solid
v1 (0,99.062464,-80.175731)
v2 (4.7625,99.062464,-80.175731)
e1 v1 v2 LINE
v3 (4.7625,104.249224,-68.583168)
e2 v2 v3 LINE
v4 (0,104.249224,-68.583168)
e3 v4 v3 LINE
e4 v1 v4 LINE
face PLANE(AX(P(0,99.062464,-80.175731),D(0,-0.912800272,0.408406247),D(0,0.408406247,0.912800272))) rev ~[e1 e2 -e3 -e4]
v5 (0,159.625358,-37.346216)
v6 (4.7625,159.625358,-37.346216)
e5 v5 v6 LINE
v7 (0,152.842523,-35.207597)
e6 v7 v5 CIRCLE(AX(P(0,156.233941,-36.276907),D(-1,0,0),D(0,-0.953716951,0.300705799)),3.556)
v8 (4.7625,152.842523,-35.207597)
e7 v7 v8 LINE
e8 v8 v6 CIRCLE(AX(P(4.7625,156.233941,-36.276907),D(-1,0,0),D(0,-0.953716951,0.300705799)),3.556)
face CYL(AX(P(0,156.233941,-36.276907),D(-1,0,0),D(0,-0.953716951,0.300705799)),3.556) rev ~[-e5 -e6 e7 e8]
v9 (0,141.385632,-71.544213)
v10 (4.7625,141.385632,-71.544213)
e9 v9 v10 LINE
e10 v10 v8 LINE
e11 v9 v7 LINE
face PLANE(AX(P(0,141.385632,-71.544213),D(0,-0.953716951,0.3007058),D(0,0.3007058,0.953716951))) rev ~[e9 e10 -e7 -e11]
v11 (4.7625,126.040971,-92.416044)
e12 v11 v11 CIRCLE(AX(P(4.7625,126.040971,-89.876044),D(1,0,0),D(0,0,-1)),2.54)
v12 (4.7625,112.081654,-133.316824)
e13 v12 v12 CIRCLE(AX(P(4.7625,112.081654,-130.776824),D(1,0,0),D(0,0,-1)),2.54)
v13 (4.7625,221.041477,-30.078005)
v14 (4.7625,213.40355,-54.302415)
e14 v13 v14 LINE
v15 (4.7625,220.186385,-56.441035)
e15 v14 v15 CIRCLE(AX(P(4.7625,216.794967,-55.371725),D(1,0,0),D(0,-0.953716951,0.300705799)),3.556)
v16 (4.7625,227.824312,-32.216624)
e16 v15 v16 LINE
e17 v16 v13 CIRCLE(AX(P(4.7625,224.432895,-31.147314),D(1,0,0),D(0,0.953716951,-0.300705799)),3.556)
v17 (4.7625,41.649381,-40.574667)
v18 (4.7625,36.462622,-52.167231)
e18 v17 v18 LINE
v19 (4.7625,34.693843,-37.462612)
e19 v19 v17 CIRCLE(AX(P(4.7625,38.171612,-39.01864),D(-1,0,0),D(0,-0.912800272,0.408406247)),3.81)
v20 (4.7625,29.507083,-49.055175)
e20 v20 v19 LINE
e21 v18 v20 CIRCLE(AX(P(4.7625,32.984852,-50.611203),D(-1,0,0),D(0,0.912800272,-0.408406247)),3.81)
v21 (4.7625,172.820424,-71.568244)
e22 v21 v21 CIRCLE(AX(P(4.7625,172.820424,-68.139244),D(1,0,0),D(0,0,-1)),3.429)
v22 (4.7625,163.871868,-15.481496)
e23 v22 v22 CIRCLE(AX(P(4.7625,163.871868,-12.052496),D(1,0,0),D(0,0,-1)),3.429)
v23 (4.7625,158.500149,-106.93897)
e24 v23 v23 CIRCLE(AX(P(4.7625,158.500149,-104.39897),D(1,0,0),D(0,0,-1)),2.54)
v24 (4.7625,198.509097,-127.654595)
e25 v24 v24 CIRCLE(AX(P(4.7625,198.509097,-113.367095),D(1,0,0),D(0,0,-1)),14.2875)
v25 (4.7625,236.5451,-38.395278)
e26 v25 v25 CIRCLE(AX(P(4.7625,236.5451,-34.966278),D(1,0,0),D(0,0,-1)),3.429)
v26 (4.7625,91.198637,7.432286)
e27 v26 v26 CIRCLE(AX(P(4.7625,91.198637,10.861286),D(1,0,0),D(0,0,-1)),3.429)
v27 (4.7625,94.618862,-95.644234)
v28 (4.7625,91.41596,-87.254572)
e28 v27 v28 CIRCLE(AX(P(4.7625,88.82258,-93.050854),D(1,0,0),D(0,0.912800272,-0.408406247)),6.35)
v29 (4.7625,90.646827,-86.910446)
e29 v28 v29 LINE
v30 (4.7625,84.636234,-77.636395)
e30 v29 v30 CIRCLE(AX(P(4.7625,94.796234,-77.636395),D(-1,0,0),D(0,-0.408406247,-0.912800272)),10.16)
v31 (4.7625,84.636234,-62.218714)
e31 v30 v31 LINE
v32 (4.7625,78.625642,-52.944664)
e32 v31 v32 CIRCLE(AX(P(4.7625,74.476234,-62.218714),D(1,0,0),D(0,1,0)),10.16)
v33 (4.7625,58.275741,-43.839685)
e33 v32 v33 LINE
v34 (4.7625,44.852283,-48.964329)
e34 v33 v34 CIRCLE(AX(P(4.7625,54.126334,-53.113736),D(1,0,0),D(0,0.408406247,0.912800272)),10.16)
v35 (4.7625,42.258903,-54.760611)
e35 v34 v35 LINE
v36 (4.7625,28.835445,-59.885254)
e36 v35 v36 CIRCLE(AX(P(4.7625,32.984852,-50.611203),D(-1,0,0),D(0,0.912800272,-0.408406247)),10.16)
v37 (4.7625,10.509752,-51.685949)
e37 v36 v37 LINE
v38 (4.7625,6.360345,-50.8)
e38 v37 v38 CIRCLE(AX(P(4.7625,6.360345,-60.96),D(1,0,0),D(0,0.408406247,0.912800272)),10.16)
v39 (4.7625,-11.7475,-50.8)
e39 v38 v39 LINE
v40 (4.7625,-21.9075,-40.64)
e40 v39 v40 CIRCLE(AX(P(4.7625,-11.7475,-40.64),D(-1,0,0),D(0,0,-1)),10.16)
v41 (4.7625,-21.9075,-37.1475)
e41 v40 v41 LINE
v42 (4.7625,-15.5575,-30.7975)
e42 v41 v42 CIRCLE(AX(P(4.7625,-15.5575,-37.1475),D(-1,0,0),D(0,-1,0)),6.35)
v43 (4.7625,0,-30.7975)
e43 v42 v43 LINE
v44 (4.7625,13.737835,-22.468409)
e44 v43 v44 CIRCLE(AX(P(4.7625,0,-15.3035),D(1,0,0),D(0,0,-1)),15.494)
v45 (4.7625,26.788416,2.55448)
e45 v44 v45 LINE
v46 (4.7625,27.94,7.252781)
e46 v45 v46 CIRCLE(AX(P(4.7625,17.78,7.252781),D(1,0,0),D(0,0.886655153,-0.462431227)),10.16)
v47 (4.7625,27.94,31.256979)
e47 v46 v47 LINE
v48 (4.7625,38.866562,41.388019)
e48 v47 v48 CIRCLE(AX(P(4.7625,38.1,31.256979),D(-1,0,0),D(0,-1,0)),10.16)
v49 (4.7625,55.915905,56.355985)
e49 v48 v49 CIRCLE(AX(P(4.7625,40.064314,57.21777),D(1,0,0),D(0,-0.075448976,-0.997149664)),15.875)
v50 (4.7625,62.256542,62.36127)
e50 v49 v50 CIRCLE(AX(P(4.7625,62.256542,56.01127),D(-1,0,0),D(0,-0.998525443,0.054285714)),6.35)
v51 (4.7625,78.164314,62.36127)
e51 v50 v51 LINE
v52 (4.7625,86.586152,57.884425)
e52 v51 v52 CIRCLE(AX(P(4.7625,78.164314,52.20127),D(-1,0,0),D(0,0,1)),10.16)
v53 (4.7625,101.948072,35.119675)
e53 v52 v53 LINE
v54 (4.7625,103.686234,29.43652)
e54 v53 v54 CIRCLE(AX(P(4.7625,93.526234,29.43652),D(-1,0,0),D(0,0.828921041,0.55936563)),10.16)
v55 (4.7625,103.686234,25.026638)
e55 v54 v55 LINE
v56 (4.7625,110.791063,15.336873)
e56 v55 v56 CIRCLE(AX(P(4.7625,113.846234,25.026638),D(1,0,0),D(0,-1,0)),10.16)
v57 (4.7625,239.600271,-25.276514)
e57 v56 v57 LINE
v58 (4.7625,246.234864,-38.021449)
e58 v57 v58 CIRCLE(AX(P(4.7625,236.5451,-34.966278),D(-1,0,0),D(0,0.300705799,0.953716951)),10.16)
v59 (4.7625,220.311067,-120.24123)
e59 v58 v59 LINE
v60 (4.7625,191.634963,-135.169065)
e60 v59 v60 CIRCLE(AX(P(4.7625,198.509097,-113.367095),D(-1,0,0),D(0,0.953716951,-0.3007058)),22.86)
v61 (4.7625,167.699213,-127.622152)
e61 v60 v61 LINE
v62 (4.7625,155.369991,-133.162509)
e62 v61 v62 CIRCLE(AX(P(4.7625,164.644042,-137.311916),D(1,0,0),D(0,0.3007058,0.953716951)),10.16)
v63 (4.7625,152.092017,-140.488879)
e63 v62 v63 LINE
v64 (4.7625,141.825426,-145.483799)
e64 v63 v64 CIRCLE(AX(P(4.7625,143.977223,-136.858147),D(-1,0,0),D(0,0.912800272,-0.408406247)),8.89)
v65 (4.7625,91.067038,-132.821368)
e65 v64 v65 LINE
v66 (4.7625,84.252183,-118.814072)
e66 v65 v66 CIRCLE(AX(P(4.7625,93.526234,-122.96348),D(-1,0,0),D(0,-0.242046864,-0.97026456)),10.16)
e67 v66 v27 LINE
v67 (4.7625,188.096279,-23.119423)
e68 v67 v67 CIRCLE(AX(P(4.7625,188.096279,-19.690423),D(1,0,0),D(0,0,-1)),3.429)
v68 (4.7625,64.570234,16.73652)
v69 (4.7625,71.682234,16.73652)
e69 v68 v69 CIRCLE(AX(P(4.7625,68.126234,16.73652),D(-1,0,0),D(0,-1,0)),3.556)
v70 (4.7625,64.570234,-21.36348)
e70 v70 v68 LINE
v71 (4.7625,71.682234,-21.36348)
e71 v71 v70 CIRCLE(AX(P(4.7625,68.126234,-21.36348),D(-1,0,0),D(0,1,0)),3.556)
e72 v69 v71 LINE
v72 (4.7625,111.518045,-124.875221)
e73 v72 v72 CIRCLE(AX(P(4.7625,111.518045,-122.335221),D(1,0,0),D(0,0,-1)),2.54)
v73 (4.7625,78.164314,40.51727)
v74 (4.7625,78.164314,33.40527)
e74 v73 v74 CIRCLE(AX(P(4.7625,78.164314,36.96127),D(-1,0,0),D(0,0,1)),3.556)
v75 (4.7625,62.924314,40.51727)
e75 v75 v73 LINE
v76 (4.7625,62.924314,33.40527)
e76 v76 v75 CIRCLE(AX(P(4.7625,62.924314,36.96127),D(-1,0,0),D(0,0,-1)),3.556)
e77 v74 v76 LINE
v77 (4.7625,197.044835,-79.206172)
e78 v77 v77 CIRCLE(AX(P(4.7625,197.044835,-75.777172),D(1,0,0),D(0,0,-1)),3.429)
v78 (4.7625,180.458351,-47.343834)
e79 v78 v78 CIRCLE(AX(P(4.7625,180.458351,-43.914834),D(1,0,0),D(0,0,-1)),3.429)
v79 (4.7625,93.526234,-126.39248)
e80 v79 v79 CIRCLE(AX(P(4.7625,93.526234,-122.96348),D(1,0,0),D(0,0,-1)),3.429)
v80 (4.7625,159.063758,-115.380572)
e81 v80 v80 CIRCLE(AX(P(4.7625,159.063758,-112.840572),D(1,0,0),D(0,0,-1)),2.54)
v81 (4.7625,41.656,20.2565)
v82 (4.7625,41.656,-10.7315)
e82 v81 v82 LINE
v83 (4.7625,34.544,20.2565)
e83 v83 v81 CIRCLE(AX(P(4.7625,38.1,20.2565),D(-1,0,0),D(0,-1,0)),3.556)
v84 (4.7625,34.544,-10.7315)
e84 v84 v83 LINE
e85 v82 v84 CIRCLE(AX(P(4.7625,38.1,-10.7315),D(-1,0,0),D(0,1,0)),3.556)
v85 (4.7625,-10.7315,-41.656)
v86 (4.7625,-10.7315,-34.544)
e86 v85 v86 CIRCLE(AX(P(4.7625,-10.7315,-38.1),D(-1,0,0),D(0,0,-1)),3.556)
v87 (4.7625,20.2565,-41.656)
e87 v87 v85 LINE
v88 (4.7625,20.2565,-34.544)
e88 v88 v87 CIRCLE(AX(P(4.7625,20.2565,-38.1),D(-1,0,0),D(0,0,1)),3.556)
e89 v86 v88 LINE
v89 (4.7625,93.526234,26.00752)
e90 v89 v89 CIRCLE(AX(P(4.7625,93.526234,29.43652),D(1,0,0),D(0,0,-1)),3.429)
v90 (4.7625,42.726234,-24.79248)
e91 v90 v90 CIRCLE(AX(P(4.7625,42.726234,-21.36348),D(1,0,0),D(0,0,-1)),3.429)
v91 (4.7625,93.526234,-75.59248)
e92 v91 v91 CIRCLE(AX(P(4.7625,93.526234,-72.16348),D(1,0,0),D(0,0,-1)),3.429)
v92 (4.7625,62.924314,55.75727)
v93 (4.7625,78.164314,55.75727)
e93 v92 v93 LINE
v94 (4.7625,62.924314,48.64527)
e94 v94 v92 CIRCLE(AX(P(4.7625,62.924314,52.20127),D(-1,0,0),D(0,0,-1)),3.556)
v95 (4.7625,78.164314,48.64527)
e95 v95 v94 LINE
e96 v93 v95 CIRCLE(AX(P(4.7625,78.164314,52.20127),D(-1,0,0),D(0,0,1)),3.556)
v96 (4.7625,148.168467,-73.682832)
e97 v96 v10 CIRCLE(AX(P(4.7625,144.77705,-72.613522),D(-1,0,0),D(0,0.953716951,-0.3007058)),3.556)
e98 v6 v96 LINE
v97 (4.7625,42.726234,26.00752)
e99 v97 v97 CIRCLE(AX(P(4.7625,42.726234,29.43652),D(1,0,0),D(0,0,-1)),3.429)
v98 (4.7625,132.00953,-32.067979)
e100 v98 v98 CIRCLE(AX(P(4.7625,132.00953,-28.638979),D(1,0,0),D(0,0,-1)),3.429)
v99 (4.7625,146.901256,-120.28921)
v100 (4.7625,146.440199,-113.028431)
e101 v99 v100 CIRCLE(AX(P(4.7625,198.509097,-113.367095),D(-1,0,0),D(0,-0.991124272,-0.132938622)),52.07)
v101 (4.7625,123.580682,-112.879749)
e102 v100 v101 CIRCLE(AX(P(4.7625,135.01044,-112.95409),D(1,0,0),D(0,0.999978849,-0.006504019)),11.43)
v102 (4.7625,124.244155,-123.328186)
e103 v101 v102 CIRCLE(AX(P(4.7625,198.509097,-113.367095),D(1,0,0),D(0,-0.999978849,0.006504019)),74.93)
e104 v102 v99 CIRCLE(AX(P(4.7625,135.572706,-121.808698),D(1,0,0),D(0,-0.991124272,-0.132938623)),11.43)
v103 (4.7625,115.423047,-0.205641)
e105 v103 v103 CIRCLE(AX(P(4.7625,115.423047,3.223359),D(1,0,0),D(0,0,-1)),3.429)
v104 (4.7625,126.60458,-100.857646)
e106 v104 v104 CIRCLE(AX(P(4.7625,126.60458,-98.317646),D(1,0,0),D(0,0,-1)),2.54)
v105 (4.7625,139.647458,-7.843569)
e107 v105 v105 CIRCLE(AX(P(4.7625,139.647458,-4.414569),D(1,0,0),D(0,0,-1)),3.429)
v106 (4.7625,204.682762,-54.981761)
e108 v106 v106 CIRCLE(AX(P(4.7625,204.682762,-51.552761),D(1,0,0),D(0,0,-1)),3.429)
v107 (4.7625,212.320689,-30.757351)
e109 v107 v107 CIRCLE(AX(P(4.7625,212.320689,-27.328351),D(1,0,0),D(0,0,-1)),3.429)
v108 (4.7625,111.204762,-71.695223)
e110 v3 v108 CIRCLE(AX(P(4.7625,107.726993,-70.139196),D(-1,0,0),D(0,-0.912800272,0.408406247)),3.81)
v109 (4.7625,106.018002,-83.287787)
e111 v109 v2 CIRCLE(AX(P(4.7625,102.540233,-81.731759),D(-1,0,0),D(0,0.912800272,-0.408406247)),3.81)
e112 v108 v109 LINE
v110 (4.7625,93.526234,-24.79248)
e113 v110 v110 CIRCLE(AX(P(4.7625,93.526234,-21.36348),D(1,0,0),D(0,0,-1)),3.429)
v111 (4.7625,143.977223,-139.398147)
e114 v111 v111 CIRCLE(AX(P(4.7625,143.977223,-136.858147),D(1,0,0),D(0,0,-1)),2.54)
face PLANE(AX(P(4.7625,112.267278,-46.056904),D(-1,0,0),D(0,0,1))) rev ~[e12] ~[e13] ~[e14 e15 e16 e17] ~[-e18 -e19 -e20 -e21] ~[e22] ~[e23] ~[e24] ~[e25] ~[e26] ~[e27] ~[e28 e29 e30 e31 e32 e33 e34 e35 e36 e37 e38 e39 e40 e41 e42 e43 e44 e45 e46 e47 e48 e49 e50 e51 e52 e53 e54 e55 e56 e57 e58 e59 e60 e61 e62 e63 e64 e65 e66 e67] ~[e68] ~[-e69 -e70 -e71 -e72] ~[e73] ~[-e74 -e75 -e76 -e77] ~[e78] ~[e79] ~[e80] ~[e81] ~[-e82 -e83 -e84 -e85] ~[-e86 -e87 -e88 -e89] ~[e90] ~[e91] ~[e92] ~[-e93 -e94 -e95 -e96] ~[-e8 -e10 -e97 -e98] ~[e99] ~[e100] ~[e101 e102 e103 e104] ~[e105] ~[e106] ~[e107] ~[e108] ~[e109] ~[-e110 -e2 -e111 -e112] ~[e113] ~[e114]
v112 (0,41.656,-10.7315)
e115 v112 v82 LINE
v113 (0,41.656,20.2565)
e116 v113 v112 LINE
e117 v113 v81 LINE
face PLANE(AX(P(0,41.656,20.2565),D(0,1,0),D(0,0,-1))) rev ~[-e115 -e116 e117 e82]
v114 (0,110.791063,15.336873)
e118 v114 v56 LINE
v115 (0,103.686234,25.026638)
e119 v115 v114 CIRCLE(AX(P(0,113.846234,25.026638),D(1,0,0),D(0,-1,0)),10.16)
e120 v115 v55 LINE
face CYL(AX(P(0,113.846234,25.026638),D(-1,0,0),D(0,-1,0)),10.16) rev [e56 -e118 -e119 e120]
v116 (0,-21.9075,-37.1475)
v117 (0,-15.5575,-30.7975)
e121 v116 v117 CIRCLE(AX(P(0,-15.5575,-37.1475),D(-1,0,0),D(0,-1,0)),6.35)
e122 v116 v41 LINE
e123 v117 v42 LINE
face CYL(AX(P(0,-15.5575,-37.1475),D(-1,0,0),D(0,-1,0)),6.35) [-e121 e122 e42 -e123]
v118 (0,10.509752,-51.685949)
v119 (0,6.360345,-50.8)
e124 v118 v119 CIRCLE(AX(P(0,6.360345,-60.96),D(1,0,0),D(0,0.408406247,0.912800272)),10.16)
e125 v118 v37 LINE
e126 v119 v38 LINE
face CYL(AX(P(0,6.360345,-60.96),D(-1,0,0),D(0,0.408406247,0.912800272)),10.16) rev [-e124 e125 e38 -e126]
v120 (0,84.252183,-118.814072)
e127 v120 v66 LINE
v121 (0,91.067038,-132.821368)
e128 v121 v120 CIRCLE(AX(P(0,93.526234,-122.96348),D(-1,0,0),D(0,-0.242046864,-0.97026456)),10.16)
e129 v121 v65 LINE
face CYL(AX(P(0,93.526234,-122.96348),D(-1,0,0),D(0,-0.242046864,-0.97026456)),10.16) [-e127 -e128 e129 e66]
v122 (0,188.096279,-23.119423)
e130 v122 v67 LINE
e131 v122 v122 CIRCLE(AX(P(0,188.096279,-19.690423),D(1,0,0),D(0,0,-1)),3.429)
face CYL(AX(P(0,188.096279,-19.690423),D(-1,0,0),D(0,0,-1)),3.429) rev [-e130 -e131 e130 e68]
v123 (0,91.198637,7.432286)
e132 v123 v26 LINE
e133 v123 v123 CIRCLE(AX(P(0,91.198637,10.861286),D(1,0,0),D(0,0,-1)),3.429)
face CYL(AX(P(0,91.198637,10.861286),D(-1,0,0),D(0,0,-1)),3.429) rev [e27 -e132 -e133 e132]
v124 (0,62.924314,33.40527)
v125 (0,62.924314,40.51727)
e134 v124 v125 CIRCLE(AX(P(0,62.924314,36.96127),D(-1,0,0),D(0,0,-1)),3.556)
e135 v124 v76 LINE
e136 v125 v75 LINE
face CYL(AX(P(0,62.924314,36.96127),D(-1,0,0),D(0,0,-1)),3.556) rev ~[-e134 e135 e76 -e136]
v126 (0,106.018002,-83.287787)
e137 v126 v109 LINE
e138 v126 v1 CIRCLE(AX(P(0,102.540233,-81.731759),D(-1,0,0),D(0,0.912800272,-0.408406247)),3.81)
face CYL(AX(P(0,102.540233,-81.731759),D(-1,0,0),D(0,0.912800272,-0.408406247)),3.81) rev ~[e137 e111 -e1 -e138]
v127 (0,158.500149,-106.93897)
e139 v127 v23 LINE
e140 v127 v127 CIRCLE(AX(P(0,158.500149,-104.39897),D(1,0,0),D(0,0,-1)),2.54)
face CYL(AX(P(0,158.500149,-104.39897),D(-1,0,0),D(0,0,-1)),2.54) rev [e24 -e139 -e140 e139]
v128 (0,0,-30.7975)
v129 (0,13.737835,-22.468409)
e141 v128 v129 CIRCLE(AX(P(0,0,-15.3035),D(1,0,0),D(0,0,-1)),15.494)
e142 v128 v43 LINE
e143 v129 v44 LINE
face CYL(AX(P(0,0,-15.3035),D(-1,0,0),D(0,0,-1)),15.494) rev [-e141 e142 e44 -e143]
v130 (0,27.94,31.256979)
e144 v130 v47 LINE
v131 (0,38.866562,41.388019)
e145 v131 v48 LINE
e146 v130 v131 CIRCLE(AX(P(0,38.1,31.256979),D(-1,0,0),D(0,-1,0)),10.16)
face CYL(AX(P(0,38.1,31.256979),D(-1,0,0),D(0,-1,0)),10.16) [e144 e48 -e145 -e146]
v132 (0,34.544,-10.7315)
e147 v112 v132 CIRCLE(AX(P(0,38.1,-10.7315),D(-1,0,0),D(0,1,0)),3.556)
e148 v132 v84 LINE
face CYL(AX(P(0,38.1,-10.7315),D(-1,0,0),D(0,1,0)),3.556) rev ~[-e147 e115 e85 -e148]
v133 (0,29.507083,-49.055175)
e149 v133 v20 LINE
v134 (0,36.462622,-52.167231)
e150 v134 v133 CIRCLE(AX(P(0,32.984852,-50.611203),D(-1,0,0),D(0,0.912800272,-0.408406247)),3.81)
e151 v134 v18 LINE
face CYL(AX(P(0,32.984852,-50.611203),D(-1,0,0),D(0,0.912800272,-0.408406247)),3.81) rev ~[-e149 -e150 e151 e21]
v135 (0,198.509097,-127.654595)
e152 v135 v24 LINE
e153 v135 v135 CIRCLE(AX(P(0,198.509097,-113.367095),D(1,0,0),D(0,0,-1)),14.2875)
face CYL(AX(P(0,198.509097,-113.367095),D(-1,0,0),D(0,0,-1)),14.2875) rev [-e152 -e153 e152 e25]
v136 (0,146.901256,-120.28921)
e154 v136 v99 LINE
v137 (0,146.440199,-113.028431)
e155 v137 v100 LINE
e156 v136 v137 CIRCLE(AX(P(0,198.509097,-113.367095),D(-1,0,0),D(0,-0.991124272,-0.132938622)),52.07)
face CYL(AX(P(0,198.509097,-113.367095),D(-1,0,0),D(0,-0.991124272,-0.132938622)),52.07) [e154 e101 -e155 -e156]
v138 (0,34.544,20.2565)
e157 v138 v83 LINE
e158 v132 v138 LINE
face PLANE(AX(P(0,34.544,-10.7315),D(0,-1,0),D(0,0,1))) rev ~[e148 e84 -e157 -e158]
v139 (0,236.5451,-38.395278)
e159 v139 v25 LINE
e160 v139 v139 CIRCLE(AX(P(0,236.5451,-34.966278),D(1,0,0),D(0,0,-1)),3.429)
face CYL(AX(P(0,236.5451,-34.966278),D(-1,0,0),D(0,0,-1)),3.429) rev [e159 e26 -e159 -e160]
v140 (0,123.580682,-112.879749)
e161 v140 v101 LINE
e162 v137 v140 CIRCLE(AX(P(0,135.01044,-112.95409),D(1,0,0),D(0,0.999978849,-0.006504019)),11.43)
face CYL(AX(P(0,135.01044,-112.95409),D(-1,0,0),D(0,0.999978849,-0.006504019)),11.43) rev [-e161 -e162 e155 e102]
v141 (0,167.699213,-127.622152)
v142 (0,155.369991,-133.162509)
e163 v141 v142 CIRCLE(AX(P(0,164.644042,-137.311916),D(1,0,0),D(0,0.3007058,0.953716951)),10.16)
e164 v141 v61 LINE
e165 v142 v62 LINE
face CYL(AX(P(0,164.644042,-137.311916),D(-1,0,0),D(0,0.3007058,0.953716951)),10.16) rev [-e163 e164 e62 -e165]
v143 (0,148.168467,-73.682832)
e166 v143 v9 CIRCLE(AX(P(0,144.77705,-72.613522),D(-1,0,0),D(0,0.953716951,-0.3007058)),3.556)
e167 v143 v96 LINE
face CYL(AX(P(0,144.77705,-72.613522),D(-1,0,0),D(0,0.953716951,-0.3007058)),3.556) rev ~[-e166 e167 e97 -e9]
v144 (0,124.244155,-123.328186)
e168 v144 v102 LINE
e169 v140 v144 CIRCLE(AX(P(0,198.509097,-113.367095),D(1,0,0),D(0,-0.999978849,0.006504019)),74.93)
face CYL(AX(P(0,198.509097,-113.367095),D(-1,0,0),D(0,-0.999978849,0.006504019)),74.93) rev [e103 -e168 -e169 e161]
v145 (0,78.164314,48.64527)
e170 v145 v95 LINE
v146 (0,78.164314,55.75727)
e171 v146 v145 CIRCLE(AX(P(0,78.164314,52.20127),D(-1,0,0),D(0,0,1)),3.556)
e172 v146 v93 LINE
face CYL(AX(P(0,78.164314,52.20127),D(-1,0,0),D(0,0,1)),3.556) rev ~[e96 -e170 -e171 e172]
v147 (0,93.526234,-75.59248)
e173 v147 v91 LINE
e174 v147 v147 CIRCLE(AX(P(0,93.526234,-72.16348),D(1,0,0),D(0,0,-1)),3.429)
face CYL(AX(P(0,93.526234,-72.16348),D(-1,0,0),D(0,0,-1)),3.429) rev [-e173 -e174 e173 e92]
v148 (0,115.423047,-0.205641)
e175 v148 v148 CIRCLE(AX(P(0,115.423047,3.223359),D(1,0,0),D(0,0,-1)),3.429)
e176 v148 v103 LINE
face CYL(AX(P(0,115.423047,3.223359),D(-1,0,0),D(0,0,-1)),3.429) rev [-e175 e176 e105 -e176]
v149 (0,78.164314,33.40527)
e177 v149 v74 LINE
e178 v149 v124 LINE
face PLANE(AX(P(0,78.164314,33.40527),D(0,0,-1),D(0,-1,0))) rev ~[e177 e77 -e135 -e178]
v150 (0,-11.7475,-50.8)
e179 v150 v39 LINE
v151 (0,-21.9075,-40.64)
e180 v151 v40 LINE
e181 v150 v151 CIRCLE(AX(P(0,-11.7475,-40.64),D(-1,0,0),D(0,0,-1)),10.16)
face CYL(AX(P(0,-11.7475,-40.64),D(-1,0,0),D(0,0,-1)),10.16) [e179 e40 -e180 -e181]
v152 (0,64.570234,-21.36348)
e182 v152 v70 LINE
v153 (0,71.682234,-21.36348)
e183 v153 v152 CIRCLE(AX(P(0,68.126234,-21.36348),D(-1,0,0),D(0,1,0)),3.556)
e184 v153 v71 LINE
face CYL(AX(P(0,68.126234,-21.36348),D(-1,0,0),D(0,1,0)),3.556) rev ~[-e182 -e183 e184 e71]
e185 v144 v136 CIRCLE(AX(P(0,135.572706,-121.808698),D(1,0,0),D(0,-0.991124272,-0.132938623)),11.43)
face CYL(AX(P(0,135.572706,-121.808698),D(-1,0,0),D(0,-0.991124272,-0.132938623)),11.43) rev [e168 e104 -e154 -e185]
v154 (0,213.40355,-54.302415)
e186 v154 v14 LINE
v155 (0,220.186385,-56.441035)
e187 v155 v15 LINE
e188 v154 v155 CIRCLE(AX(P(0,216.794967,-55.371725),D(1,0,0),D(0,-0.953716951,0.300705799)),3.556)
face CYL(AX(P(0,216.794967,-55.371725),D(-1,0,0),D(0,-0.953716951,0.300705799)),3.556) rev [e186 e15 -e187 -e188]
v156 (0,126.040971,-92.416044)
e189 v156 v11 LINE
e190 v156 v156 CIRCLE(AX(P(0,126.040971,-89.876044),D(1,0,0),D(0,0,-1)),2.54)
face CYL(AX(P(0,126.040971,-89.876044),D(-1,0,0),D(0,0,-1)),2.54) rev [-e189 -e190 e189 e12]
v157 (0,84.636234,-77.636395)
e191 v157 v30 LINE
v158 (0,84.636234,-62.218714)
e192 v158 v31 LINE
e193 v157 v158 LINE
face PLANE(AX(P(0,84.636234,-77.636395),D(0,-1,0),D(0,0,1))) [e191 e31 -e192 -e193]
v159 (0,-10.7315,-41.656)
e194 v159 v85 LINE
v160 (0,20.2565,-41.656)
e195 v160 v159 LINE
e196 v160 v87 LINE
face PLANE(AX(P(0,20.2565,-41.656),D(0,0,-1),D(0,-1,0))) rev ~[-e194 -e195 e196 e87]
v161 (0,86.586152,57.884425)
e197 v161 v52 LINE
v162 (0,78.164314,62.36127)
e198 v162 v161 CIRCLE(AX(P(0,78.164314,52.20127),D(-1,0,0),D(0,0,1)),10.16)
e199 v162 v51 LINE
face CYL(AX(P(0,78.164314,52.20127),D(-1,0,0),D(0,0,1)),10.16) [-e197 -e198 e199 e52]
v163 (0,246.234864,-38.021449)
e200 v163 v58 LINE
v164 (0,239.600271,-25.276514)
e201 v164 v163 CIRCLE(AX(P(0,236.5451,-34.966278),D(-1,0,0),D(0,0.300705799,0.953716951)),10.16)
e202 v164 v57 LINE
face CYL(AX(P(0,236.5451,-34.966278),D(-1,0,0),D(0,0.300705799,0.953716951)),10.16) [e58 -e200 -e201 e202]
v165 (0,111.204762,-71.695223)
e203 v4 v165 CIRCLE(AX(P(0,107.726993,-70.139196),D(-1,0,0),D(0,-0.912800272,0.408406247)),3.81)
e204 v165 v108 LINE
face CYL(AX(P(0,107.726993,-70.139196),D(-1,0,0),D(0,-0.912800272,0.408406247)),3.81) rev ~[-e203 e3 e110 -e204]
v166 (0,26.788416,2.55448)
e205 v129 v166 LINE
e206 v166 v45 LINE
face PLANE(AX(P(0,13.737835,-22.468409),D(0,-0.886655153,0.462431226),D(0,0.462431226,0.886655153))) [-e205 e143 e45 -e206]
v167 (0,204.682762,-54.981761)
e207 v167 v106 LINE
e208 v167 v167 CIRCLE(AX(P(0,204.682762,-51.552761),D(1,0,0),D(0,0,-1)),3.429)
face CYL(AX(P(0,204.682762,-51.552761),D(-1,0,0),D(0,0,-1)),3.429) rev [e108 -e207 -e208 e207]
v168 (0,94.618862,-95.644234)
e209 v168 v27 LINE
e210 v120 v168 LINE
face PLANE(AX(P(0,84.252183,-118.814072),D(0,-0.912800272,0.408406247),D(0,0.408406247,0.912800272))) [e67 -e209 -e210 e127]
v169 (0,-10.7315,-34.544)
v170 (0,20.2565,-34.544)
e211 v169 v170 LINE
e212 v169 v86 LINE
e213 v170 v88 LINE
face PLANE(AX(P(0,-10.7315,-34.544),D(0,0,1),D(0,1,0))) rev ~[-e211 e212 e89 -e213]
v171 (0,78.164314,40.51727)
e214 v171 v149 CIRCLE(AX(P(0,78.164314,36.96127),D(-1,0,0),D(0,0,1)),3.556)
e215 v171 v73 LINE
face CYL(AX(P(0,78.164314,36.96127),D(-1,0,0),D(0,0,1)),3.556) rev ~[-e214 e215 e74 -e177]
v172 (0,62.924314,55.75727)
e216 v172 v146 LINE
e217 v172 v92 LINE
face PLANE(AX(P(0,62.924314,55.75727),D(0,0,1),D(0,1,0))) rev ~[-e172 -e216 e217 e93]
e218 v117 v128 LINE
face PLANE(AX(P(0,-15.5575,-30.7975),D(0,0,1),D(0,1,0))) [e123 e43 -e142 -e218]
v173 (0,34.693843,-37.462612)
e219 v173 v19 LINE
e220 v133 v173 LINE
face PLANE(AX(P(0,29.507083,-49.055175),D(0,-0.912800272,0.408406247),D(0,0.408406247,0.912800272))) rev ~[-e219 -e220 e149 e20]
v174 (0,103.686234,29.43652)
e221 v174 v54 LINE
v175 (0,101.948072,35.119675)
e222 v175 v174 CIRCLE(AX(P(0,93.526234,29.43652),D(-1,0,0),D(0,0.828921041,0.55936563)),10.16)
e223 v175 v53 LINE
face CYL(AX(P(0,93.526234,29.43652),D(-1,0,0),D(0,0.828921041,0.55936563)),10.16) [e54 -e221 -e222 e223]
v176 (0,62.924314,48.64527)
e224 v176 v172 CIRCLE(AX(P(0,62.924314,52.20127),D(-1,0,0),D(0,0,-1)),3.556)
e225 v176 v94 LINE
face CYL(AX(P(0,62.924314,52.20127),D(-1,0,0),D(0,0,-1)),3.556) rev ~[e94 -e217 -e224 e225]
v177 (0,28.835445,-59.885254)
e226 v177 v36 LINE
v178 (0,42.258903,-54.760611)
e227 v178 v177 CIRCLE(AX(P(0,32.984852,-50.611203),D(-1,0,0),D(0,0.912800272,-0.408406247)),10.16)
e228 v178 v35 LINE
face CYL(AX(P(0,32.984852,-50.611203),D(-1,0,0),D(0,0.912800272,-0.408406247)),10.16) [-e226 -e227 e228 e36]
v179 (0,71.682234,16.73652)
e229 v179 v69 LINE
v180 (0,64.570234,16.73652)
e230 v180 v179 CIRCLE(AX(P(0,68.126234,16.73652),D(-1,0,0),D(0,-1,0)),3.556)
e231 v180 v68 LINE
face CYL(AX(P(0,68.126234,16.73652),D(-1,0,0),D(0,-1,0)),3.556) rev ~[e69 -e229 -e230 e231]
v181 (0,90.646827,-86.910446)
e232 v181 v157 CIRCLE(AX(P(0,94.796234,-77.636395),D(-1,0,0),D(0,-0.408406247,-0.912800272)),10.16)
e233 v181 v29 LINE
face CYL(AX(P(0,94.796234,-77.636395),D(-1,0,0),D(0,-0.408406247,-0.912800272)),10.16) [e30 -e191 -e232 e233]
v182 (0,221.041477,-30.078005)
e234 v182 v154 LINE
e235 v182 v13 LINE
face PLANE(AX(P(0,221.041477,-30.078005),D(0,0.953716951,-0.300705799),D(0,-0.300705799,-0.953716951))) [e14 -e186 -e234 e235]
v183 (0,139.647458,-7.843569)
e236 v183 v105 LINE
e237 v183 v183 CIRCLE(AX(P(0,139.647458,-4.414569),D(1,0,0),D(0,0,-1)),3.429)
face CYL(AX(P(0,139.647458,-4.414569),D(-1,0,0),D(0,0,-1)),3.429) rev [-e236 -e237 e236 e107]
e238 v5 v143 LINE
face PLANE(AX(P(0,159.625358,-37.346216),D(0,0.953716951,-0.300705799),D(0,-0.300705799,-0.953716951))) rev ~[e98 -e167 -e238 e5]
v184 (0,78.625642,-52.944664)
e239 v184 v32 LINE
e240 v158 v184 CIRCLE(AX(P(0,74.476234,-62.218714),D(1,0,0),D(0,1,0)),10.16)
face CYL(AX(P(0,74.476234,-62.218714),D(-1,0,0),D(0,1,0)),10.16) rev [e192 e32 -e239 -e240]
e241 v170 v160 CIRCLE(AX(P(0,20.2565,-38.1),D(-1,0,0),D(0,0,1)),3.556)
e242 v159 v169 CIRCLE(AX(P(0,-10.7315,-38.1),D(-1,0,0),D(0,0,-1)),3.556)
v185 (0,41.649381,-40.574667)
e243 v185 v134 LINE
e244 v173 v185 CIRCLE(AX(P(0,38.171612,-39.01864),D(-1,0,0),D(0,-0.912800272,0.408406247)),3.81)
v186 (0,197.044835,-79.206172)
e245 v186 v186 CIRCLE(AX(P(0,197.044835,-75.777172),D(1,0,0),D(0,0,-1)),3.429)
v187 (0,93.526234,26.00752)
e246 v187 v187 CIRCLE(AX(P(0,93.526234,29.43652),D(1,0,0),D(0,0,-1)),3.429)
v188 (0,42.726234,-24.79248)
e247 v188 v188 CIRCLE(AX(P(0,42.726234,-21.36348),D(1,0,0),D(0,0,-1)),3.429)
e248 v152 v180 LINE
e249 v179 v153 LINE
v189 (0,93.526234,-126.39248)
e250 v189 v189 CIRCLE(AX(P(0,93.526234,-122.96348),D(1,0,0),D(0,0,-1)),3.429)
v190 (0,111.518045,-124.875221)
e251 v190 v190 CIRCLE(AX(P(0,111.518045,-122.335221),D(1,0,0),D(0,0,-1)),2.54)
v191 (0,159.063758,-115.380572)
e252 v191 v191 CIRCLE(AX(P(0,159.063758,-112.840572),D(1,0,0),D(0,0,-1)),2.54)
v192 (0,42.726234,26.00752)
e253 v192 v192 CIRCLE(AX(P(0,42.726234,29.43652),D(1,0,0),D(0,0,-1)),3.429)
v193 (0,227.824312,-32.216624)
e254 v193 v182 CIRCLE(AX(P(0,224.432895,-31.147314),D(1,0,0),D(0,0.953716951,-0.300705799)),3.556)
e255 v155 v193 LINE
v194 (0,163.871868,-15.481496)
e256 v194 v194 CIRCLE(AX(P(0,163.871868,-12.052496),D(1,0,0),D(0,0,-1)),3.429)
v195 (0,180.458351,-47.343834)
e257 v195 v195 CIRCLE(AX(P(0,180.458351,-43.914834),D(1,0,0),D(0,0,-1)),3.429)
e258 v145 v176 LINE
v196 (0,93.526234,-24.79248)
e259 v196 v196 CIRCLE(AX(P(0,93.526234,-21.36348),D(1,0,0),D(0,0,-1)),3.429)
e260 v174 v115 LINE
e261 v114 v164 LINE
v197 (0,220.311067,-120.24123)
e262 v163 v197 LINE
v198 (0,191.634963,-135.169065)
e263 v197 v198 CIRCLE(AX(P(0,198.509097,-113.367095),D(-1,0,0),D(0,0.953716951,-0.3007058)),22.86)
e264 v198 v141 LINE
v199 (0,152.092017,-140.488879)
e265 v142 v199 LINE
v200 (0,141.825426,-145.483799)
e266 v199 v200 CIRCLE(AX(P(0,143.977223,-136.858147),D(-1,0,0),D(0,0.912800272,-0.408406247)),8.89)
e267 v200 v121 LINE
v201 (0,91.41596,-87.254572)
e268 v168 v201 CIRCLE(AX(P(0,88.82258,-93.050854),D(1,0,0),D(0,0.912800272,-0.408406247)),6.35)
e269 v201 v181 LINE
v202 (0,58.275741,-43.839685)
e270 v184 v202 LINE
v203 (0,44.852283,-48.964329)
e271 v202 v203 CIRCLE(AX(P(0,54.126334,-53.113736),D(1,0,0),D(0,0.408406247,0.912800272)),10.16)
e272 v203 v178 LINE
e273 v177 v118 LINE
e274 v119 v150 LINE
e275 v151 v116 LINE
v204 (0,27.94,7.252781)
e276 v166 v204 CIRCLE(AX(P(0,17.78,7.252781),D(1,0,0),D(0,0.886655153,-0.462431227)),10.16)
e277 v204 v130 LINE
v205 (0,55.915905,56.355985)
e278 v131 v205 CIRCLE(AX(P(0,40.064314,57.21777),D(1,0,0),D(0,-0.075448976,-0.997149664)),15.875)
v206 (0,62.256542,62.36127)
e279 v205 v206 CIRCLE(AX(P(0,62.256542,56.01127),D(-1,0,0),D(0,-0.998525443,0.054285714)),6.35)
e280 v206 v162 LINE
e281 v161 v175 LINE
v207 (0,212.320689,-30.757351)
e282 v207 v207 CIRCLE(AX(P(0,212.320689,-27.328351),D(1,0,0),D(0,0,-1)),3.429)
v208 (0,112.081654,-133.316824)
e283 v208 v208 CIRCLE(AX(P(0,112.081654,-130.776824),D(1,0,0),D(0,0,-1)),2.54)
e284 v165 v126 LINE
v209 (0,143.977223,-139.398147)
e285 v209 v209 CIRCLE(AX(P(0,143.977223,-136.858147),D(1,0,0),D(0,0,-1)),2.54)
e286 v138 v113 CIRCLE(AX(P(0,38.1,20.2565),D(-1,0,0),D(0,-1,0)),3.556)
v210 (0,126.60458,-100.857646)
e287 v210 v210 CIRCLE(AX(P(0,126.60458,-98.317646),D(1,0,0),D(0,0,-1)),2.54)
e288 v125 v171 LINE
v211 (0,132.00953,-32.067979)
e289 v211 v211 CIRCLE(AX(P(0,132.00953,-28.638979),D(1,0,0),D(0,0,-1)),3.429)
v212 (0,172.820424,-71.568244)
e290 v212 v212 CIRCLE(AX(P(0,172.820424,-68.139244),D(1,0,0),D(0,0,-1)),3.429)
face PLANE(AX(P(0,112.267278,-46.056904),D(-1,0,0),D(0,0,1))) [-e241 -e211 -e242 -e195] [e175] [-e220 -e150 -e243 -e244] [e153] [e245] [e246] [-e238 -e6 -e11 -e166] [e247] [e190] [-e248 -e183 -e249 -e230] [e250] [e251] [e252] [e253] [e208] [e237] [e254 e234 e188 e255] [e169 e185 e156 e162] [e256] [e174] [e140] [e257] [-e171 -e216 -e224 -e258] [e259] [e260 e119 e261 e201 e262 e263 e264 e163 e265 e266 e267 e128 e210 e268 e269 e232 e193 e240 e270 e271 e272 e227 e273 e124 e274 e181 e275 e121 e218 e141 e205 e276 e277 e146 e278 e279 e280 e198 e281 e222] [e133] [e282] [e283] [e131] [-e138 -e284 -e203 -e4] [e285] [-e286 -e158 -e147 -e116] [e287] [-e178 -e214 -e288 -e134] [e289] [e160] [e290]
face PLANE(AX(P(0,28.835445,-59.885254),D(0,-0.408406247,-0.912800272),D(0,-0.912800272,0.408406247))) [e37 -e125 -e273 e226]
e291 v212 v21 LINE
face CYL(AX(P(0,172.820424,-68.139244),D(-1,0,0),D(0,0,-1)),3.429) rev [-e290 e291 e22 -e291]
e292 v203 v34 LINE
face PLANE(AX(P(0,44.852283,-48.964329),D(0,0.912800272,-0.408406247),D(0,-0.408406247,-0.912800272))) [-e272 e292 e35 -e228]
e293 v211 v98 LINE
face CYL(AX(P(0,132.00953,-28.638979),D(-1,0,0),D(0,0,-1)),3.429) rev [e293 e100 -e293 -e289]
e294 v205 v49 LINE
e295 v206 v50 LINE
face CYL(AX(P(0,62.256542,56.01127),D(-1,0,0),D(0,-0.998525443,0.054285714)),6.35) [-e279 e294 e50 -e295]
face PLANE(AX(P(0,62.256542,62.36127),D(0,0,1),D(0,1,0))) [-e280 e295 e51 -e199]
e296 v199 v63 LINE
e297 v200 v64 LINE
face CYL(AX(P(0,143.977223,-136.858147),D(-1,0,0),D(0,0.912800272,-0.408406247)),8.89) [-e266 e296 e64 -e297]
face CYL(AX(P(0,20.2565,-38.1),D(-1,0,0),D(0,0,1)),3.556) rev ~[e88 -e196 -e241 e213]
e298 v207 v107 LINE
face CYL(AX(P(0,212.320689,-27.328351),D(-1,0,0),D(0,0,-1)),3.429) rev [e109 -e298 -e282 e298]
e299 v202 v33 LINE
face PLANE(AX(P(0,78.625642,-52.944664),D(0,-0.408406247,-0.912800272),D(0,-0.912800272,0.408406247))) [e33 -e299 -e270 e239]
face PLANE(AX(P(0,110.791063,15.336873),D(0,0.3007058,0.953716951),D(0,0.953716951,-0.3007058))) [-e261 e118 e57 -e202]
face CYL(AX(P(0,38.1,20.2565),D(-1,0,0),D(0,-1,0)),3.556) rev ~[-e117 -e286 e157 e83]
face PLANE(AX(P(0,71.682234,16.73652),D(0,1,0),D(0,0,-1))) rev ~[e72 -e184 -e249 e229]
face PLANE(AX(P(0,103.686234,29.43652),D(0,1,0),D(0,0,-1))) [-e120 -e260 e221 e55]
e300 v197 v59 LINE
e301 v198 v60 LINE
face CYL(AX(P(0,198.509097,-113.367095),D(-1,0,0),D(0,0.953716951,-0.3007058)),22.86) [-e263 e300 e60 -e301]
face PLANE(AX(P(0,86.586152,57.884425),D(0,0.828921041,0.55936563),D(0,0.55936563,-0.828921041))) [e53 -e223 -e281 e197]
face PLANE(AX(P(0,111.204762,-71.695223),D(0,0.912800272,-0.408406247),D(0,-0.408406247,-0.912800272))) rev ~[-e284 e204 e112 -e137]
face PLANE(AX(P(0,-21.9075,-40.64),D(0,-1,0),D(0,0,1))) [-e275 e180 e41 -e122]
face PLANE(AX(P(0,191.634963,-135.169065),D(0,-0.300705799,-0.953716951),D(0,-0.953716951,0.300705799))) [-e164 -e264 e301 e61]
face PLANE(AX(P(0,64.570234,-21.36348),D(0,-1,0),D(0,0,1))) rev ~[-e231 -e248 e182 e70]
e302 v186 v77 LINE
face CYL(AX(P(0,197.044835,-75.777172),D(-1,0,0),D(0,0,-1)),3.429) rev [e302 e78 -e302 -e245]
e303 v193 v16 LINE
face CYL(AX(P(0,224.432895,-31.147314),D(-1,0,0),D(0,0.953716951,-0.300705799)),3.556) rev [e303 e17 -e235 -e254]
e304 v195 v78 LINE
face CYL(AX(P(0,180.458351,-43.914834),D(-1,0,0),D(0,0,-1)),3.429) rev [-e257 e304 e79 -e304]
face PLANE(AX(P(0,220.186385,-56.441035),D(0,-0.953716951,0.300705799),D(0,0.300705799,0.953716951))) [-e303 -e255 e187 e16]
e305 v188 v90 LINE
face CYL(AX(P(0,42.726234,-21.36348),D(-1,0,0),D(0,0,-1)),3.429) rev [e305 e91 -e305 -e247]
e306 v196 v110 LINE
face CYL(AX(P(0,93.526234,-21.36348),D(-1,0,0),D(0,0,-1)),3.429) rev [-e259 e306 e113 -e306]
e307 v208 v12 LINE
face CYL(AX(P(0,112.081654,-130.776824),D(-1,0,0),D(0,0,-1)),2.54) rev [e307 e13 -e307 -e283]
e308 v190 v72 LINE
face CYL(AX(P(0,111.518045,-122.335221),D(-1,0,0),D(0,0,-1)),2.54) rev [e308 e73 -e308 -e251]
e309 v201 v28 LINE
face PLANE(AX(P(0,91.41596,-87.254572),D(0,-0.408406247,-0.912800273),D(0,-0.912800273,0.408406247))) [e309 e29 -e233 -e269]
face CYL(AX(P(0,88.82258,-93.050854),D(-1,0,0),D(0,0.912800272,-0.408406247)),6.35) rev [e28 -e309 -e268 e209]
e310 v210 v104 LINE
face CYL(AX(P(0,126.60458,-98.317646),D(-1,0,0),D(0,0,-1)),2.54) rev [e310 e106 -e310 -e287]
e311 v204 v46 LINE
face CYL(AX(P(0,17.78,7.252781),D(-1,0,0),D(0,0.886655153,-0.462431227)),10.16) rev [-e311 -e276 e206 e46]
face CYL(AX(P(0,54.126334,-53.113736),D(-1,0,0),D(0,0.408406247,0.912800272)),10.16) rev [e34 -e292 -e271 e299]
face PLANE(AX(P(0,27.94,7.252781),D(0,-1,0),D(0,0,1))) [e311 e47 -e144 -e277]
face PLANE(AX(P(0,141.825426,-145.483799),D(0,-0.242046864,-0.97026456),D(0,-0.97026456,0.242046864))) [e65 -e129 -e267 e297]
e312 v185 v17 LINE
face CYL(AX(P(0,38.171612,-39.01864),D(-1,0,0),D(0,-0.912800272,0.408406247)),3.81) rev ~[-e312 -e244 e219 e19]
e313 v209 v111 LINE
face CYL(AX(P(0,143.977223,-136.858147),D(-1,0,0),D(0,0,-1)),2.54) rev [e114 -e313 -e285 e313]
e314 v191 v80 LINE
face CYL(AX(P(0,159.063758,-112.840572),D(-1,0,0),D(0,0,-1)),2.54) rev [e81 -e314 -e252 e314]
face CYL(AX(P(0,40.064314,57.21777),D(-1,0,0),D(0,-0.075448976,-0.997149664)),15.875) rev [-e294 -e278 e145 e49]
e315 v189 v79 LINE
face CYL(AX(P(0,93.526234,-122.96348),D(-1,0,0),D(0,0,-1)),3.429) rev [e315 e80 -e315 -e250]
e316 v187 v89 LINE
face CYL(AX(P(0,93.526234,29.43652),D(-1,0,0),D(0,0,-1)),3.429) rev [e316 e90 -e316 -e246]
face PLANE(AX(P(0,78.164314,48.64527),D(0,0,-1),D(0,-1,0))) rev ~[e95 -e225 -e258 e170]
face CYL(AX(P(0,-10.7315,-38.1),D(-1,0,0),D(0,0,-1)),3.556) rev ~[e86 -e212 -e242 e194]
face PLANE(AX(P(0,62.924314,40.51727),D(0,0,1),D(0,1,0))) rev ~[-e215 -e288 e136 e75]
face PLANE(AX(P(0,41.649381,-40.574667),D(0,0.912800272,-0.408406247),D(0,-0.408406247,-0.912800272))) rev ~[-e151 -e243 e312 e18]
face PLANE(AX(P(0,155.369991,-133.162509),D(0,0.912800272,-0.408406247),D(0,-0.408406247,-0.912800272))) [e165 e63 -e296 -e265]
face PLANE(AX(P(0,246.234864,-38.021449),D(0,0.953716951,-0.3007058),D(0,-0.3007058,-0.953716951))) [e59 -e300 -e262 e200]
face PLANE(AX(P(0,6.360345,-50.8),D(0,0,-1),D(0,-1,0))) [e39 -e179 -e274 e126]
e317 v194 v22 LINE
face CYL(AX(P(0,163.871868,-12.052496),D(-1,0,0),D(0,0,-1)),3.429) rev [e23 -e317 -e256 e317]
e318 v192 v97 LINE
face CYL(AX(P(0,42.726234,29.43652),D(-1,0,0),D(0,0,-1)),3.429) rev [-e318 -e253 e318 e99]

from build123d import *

# Parameters (mm, degrees)
SKETCH2_R           = 14.2875
SKETCH2_R_2         = 3.429
SKETCH2_R_3         = 2.54
BOSS_EXTRUDE1_DEPTH = 4.7625


with BuildPart() as part:
    # Sketch2 → Boss-Extrude1 (new body)
    with BuildSketch(Plane(origin=(0, 0, 0), x_dir=(0, 0, -1), z_dir=(1, 0, 0))):
        with BuildLine():
            Line((38.021448917, 246.234864084), (120.241230069, 220.311066665))
            ThreePointArc((120.241230069, 220.311066665), (133.644163138, 209.06467047), (135.169064986, 191.634962595))
            Line((135.169064986, 191.634962595), (127.622152065, 167.6992128))
            ThreePointArc((127.622152065, 167.6992128), (128.044603019, 160.47960856), (133.162508812, 155.36999111))
            Line((133.162508812, 155.36999111), (140.48887895, 152.092017357))
            ThreePointArc((140.48887895, 152.092017357), (144.852236282, 147.866521475), (145.483799346, 141.825426314))
            Line((145.483799346, 141.825426314), (132.821367632, 91.06703794))
            ThreePointArc((132.821367632, 91.06703794), (127.408392323, 84.390132513), (118.814072234, 84.252183312))
            Line((118.814072234, 84.252183312), (95.644233558, 94.61886171))
            ThreePointArc((95.644233558, 94.61886171), (90.786060122, 94.754966448), (87.254572158, 91.415959651))
            Line((87.254572158, 91.415959651), (86.910445683, 90.646826606))
            ThreePointArc((86.910445683, 90.646826606), (83.162135594, 86.27028604), (77.636394916, 84.636234079))
            Line((77.636394916, 84.636234079), (62.21871433, 84.636234079))
            ThreePointArc((62.21871433, 84.636234079), (56.692973652, 83.002182118), (52.944663563, 78.625641552))
            Line((52.944663563, 78.625641552), (43.839685496, 58.275741142))
            ThreePointArc((43.839685496, 58.275741142), (43.621917914, 50.502663645), (48.96432879, 44.852282903))
            Line((48.96432879, 44.852282903), (54.760610519, 42.258903232))
            ThreePointArc((54.760610519, 42.258903232), (60.103021394, 36.60852249), (59.885253813, 28.835444993))
            Line((59.885253813, 28.835444993), (51.685949233, 10.509752126))
            ThreePointArc((51.685949233, 10.509752126), (51.023955621, 8.481811623), (50.8, 6.360344653))
            Line((50.8, 6.360344653), (50.8, -11.7475))
            ThreePointArc((50.8, -11.7475), (47.824204897, -18.931704897), (40.64, -21.9075))
            Line((40.64, -21.9075), (37.1475, -21.9075))
            ThreePointArc((37.1475, -21.9075), (32.657371939, -20.047628061), (30.7975, -15.5575))
            Line((30.7975, -15.5575), (30.7975, 0))
            ThreePointArc((30.7975, 0), (28.552596998, 8.032774411), (22.468409419, 13.737834946))
            Line((22.468409419, 13.737834946), (-2.554479623, 26.788416358))
            ThreePointArc((-2.554479623, 26.788416358), (-4.834094275, 27.647905305), (-7.252780881, 27.94))
            Line((-7.252780881, 27.94), (-31.256978796, 27.94))
            ThreePointArc((-31.256978796, 27.94), (-38.707276299, 31.19213006), (-41.38801938, 38.866561592))
            ThreePointArc((-41.38801938, 38.866561592), (-45.28789684, 50.537792221), (-56.355984579, 55.915905494))
            ThreePointArc((-56.355984579, 55.915905494), (-60.621662669, 57.889989399), (-62.361270294, 62.25654206))
            Line((-62.361270294, 62.25654206), (-62.361270294, 78.164314079))
            ThreePointArc((-62.361270294, 78.164314079), (-61.17251471, 82.933210558), (-57.884425091, 86.586151856))
            Line((-57.884425091, 86.586151856), (-35.119675091, 101.948071856))
            ThreePointArc((-35.119675091, 101.948071856), (-32.408029017, 103.24198088), (-29.436520294, 103.686234079))
            Line((-29.436520294, 103.686234079), (-25.026637608, 103.686234079))
            ThreePointArc((-25.026637608, 103.686234079), (-19.01893158, 105.6527569), (-15.336873388, 110.791063156))
            Line((-15.336873388, 110.791063156), (25.276513775, 239.600270788))
            ThreePointArc((25.276513775, 239.600270788), (30.274912084, 245.55712993), (38.021448917, 246.234864084))
        make_face()
        with Locations((113.367095492, 198.509097171)):
            Circle(SKETCH2_R, mode=Mode.SUBTRACT)
        with Locations((-29.436520294, 42.726234079)):
            Circle(SKETCH2_R_2, mode=Mode.SUBTRACT)
        with Locations((21.363479706, 93.526234079)):
            Circle(SKETCH2_R_2, mode=Mode.SUBTRACT)
        with Locations((122.963479706, 93.526234079)):
            Circle(SKETCH2_R_2, mode=Mode.SUBTRACT)
        with Locations((104.398969727, 158.50014909)):
            Circle(SKETCH2_R_3, mode=Mode.SUBTRACT)
        with Locations((136.858147411, 143.977222936)):
            Circle(SKETCH2_R_3, mode=Mode.SUBTRACT)
        with Locations((122.335221257, 111.518045252)):
            Circle(SKETCH2_R_3, mode=Mode.SUBTRACT)
        with Locations((89.876043573, 126.040971407)):
            Circle(SKETCH2_R_3, mode=Mode.SUBTRACT)
        with Locations((112.840572264, 159.063757816)):
            Circle(SKETCH2_R_3, mode=Mode.SUBTRACT)
        with Locations((130.776823793, 112.081653978)):
            Circle(SKETCH2_R_3, mode=Mode.SUBTRACT)
        with Locations((98.317646109, 126.604580132)):
            Circle(SKETCH2_R_3, mode=Mode.SUBTRACT)
        with Locations((-29.436520294, 93.526234079)):
            Circle(SKETCH2_R_2, mode=Mode.SUBTRACT)
        with Locations((21.363479706, 42.726234079)):
            Circle(SKETCH2_R_2, mode=Mode.SUBTRACT)
        with Locations((72.163479706, 93.526234079)):
            Circle(SKETCH2_R_2, mode=Mode.SUBTRACT)
        with Locations((34.966277994, 236.545099865)):
            Circle(SKETCH2_R_2, mode=Mode.SUBTRACT)
        with Locations((27.328350687, 212.320689316)):
            Circle(SKETCH2_R_2, mode=Mode.SUBTRACT)
        with Locations((19.690423379, 188.096278767)):
            Circle(SKETCH2_R_2, mode=Mode.SUBTRACT)
        with Locations((12.052496072, 163.871868218)):
            Circle(SKETCH2_R_2, mode=Mode.SUBTRACT)
        with Locations((4.414568765, 139.647457669)):
            Circle(SKETCH2_R_2, mode=Mode.SUBTRACT)
        with Locations((-3.223358543, 115.42304712)):
            Circle(SKETCH2_R_2, mode=Mode.SUBTRACT)
        with Locations((-10.86128585, 91.198636571)):
            Circle(SKETCH2_R_2, mode=Mode.SUBTRACT)
        with Locations((51.552761236, 204.682762008)):
            Circle(SKETCH2_R_2, mode=Mode.SUBTRACT)
        with Locations((43.914833928, 180.458351459)):
            Circle(SKETCH2_R_2, mode=Mode.SUBTRACT)
        with Locations((75.777171785, 197.044834701)):
            Circle(SKETCH2_R_2, mode=Mode.SUBTRACT)
        with Locations((68.139244477, 172.820424152)):
            Circle(SKETCH2_R_2, mode=Mode.SUBTRACT)
        with Locations((28.638979314, 132.009530361)):
            Circle(SKETCH2_R_2, mode=Mode.SUBTRACT)
        with BuildLine():
            Line((30.078004517, 221.041477113), (54.302415066, 213.403549806))
            ThreePointArc((54.302415066, 213.403549806), (58.763142366, 215.72565746), (56.441034713, 220.18638476))
            Line((56.441034713, 220.18638476), (32.216624164, 227.824312067))
            ThreePointArc((32.216624164, 227.824312067), (27.755896864, 225.502204413), (30.078004517, 221.041477113))
        make_face(mode=Mode.SUBTRACT)
        with BuildLine():
            Line((41.656, 20.2565), (41.656, -10.7315))
            ThreePointArc((41.656, -10.7315), (38.1, -14.2875), (34.544, -10.7315))
            Line((34.544, -10.7315), (34.544, 20.2565))
            ThreePointArc((34.544, 20.2565), (38.1, 23.8125), (41.656, 20.2565))
        make_face(mode=Mode.SUBTRACT)
        with BuildLine():
            Line((-20.2565, 41.656), (10.7315, 41.656))
            ThreePointArc((10.7315, 41.656), (14.2875, 38.1), (10.7315, 34.544))
            Line((10.7315, 34.544), (-20.2565, 34.544))
            ThreePointArc((-20.2565, 34.544), (-23.8125, 38.1), (-20.2565, 41.656))
        make_face(mode=Mode.SUBTRACT)
        with BuildLine():
            Line((-48.645270294, 78.164314079), (-48.645270294, 62.924314079))
            ThreePointArc((-48.645270294, 62.924314079), (-52.201270294, 59.368314079), (-55.757270294, 62.924314079))
            Line((-55.757270294, 62.924314079), (-55.757270294, 78.164314079))
            ThreePointArc((-55.757270294, 78.164314079), (-52.201270294, 81.720314079), (-48.645270294, 78.164314079))
        make_face(mode=Mode.SUBTRACT)
        with BuildLine():
            Line((-33.405270294, 78.164314079), (-33.405270294, 62.924314079))
            ThreePointArc((-33.405270294, 62.924314079), (-36.961270294, 59.368314079), (-40.517270294, 62.924314079))
            Line((-40.517270294, 62.924314079), (-40.517270294, 78.164314079))
            ThreePointArc((-40.517270294, 78.164314079), (-36.961270294, 81.720314079), (-33.405270294, 78.164314079))
        make_face(mode=Mode.SUBTRACT)
        with BuildLine():
            Line((37.346216444, 159.625358387), (73.682832268, 148.168467426))
            ThreePointArc((73.682832268, 148.168467426), (76.004939921, 143.707740126), (71.544212621, 141.385632472))
            Line((71.544212621, 141.385632472), (35.207596798, 152.842523433))
            ThreePointArc((35.207596798, 152.842523433), (32.885489144, 157.303250733), (37.346216444, 159.625358387))
        make_face(mode=Mode.SUBTRACT)
        with BuildLine():
            Line((-16.736520294, 71.682234079), (21.363479706, 71.682234079))
            ThreePointArc((21.363479706, 71.682234079), (24.919479706, 68.126234079), (21.363479706, 64.570234079))
            Line((21.363479706, 64.570234079), (-16.736520294, 64.570234079))
            ThreePointArc((-16.736520294, 64.570234079), (-20.292520294, 68.126234079), (-16.736520294, 71.682234079))
        make_face(mode=Mode.SUBTRACT)
        with BuildLine():
            Line((71.695223435, 111.204761595), (83.287786894, 106.018002254))
            ThreePointArc((83.287786894, 106.018002254), (85.209528129, 100.984205414), (80.175731289, 99.062464179))
            Line((80.175731289, 99.062464179), (68.583167831, 104.24922352))
            ThreePointArc((68.583167831, 104.24922352), (66.661426596, 109.28302036), (71.695223435, 111.204761595))
        make_face(mode=Mode.SUBTRACT)
        with BuildLine():
            Line((40.57466739, 41.649380844), (52.167230848, 36.462621503))
            ThreePointArc((52.167230848, 36.462621503), (54.088972084, 31.428824663), (49.055175244, 29.507083428))
            Line((49.055175244, 29.507083428), (37.462611785, 34.693842769))
            ThreePointArc((37.462611785, 34.693842769), (35.54087055, 39.727639609), (40.57466739, 41.649380844))
        make_face(mode=Mode.SUBTRACT)
        with BuildLine():
            ThreePointArc((112.879749334, 123.580682042), (118.115569936, 123.729709032), (123.328186485, 124.244155468))
            ThreePointArc((123.328186485, 124.244155468), (133.137248458, 137.092194354), (120.289209572, 146.901256326))
            ThreePointArc((120.289209572, 146.901256326), (116.666882818, 146.543759651), (113.028431213, 146.440198522))
            ThreePointArc((113.028431213, 146.440198522), (101.524332034, 135.084781222), (112.879749334, 123.580682042))
        make_face(mode=Mode.SUBTRACT)
    extrude(amount=BOSS_EXTRUDE1_DEPTH)


solid = part.part
